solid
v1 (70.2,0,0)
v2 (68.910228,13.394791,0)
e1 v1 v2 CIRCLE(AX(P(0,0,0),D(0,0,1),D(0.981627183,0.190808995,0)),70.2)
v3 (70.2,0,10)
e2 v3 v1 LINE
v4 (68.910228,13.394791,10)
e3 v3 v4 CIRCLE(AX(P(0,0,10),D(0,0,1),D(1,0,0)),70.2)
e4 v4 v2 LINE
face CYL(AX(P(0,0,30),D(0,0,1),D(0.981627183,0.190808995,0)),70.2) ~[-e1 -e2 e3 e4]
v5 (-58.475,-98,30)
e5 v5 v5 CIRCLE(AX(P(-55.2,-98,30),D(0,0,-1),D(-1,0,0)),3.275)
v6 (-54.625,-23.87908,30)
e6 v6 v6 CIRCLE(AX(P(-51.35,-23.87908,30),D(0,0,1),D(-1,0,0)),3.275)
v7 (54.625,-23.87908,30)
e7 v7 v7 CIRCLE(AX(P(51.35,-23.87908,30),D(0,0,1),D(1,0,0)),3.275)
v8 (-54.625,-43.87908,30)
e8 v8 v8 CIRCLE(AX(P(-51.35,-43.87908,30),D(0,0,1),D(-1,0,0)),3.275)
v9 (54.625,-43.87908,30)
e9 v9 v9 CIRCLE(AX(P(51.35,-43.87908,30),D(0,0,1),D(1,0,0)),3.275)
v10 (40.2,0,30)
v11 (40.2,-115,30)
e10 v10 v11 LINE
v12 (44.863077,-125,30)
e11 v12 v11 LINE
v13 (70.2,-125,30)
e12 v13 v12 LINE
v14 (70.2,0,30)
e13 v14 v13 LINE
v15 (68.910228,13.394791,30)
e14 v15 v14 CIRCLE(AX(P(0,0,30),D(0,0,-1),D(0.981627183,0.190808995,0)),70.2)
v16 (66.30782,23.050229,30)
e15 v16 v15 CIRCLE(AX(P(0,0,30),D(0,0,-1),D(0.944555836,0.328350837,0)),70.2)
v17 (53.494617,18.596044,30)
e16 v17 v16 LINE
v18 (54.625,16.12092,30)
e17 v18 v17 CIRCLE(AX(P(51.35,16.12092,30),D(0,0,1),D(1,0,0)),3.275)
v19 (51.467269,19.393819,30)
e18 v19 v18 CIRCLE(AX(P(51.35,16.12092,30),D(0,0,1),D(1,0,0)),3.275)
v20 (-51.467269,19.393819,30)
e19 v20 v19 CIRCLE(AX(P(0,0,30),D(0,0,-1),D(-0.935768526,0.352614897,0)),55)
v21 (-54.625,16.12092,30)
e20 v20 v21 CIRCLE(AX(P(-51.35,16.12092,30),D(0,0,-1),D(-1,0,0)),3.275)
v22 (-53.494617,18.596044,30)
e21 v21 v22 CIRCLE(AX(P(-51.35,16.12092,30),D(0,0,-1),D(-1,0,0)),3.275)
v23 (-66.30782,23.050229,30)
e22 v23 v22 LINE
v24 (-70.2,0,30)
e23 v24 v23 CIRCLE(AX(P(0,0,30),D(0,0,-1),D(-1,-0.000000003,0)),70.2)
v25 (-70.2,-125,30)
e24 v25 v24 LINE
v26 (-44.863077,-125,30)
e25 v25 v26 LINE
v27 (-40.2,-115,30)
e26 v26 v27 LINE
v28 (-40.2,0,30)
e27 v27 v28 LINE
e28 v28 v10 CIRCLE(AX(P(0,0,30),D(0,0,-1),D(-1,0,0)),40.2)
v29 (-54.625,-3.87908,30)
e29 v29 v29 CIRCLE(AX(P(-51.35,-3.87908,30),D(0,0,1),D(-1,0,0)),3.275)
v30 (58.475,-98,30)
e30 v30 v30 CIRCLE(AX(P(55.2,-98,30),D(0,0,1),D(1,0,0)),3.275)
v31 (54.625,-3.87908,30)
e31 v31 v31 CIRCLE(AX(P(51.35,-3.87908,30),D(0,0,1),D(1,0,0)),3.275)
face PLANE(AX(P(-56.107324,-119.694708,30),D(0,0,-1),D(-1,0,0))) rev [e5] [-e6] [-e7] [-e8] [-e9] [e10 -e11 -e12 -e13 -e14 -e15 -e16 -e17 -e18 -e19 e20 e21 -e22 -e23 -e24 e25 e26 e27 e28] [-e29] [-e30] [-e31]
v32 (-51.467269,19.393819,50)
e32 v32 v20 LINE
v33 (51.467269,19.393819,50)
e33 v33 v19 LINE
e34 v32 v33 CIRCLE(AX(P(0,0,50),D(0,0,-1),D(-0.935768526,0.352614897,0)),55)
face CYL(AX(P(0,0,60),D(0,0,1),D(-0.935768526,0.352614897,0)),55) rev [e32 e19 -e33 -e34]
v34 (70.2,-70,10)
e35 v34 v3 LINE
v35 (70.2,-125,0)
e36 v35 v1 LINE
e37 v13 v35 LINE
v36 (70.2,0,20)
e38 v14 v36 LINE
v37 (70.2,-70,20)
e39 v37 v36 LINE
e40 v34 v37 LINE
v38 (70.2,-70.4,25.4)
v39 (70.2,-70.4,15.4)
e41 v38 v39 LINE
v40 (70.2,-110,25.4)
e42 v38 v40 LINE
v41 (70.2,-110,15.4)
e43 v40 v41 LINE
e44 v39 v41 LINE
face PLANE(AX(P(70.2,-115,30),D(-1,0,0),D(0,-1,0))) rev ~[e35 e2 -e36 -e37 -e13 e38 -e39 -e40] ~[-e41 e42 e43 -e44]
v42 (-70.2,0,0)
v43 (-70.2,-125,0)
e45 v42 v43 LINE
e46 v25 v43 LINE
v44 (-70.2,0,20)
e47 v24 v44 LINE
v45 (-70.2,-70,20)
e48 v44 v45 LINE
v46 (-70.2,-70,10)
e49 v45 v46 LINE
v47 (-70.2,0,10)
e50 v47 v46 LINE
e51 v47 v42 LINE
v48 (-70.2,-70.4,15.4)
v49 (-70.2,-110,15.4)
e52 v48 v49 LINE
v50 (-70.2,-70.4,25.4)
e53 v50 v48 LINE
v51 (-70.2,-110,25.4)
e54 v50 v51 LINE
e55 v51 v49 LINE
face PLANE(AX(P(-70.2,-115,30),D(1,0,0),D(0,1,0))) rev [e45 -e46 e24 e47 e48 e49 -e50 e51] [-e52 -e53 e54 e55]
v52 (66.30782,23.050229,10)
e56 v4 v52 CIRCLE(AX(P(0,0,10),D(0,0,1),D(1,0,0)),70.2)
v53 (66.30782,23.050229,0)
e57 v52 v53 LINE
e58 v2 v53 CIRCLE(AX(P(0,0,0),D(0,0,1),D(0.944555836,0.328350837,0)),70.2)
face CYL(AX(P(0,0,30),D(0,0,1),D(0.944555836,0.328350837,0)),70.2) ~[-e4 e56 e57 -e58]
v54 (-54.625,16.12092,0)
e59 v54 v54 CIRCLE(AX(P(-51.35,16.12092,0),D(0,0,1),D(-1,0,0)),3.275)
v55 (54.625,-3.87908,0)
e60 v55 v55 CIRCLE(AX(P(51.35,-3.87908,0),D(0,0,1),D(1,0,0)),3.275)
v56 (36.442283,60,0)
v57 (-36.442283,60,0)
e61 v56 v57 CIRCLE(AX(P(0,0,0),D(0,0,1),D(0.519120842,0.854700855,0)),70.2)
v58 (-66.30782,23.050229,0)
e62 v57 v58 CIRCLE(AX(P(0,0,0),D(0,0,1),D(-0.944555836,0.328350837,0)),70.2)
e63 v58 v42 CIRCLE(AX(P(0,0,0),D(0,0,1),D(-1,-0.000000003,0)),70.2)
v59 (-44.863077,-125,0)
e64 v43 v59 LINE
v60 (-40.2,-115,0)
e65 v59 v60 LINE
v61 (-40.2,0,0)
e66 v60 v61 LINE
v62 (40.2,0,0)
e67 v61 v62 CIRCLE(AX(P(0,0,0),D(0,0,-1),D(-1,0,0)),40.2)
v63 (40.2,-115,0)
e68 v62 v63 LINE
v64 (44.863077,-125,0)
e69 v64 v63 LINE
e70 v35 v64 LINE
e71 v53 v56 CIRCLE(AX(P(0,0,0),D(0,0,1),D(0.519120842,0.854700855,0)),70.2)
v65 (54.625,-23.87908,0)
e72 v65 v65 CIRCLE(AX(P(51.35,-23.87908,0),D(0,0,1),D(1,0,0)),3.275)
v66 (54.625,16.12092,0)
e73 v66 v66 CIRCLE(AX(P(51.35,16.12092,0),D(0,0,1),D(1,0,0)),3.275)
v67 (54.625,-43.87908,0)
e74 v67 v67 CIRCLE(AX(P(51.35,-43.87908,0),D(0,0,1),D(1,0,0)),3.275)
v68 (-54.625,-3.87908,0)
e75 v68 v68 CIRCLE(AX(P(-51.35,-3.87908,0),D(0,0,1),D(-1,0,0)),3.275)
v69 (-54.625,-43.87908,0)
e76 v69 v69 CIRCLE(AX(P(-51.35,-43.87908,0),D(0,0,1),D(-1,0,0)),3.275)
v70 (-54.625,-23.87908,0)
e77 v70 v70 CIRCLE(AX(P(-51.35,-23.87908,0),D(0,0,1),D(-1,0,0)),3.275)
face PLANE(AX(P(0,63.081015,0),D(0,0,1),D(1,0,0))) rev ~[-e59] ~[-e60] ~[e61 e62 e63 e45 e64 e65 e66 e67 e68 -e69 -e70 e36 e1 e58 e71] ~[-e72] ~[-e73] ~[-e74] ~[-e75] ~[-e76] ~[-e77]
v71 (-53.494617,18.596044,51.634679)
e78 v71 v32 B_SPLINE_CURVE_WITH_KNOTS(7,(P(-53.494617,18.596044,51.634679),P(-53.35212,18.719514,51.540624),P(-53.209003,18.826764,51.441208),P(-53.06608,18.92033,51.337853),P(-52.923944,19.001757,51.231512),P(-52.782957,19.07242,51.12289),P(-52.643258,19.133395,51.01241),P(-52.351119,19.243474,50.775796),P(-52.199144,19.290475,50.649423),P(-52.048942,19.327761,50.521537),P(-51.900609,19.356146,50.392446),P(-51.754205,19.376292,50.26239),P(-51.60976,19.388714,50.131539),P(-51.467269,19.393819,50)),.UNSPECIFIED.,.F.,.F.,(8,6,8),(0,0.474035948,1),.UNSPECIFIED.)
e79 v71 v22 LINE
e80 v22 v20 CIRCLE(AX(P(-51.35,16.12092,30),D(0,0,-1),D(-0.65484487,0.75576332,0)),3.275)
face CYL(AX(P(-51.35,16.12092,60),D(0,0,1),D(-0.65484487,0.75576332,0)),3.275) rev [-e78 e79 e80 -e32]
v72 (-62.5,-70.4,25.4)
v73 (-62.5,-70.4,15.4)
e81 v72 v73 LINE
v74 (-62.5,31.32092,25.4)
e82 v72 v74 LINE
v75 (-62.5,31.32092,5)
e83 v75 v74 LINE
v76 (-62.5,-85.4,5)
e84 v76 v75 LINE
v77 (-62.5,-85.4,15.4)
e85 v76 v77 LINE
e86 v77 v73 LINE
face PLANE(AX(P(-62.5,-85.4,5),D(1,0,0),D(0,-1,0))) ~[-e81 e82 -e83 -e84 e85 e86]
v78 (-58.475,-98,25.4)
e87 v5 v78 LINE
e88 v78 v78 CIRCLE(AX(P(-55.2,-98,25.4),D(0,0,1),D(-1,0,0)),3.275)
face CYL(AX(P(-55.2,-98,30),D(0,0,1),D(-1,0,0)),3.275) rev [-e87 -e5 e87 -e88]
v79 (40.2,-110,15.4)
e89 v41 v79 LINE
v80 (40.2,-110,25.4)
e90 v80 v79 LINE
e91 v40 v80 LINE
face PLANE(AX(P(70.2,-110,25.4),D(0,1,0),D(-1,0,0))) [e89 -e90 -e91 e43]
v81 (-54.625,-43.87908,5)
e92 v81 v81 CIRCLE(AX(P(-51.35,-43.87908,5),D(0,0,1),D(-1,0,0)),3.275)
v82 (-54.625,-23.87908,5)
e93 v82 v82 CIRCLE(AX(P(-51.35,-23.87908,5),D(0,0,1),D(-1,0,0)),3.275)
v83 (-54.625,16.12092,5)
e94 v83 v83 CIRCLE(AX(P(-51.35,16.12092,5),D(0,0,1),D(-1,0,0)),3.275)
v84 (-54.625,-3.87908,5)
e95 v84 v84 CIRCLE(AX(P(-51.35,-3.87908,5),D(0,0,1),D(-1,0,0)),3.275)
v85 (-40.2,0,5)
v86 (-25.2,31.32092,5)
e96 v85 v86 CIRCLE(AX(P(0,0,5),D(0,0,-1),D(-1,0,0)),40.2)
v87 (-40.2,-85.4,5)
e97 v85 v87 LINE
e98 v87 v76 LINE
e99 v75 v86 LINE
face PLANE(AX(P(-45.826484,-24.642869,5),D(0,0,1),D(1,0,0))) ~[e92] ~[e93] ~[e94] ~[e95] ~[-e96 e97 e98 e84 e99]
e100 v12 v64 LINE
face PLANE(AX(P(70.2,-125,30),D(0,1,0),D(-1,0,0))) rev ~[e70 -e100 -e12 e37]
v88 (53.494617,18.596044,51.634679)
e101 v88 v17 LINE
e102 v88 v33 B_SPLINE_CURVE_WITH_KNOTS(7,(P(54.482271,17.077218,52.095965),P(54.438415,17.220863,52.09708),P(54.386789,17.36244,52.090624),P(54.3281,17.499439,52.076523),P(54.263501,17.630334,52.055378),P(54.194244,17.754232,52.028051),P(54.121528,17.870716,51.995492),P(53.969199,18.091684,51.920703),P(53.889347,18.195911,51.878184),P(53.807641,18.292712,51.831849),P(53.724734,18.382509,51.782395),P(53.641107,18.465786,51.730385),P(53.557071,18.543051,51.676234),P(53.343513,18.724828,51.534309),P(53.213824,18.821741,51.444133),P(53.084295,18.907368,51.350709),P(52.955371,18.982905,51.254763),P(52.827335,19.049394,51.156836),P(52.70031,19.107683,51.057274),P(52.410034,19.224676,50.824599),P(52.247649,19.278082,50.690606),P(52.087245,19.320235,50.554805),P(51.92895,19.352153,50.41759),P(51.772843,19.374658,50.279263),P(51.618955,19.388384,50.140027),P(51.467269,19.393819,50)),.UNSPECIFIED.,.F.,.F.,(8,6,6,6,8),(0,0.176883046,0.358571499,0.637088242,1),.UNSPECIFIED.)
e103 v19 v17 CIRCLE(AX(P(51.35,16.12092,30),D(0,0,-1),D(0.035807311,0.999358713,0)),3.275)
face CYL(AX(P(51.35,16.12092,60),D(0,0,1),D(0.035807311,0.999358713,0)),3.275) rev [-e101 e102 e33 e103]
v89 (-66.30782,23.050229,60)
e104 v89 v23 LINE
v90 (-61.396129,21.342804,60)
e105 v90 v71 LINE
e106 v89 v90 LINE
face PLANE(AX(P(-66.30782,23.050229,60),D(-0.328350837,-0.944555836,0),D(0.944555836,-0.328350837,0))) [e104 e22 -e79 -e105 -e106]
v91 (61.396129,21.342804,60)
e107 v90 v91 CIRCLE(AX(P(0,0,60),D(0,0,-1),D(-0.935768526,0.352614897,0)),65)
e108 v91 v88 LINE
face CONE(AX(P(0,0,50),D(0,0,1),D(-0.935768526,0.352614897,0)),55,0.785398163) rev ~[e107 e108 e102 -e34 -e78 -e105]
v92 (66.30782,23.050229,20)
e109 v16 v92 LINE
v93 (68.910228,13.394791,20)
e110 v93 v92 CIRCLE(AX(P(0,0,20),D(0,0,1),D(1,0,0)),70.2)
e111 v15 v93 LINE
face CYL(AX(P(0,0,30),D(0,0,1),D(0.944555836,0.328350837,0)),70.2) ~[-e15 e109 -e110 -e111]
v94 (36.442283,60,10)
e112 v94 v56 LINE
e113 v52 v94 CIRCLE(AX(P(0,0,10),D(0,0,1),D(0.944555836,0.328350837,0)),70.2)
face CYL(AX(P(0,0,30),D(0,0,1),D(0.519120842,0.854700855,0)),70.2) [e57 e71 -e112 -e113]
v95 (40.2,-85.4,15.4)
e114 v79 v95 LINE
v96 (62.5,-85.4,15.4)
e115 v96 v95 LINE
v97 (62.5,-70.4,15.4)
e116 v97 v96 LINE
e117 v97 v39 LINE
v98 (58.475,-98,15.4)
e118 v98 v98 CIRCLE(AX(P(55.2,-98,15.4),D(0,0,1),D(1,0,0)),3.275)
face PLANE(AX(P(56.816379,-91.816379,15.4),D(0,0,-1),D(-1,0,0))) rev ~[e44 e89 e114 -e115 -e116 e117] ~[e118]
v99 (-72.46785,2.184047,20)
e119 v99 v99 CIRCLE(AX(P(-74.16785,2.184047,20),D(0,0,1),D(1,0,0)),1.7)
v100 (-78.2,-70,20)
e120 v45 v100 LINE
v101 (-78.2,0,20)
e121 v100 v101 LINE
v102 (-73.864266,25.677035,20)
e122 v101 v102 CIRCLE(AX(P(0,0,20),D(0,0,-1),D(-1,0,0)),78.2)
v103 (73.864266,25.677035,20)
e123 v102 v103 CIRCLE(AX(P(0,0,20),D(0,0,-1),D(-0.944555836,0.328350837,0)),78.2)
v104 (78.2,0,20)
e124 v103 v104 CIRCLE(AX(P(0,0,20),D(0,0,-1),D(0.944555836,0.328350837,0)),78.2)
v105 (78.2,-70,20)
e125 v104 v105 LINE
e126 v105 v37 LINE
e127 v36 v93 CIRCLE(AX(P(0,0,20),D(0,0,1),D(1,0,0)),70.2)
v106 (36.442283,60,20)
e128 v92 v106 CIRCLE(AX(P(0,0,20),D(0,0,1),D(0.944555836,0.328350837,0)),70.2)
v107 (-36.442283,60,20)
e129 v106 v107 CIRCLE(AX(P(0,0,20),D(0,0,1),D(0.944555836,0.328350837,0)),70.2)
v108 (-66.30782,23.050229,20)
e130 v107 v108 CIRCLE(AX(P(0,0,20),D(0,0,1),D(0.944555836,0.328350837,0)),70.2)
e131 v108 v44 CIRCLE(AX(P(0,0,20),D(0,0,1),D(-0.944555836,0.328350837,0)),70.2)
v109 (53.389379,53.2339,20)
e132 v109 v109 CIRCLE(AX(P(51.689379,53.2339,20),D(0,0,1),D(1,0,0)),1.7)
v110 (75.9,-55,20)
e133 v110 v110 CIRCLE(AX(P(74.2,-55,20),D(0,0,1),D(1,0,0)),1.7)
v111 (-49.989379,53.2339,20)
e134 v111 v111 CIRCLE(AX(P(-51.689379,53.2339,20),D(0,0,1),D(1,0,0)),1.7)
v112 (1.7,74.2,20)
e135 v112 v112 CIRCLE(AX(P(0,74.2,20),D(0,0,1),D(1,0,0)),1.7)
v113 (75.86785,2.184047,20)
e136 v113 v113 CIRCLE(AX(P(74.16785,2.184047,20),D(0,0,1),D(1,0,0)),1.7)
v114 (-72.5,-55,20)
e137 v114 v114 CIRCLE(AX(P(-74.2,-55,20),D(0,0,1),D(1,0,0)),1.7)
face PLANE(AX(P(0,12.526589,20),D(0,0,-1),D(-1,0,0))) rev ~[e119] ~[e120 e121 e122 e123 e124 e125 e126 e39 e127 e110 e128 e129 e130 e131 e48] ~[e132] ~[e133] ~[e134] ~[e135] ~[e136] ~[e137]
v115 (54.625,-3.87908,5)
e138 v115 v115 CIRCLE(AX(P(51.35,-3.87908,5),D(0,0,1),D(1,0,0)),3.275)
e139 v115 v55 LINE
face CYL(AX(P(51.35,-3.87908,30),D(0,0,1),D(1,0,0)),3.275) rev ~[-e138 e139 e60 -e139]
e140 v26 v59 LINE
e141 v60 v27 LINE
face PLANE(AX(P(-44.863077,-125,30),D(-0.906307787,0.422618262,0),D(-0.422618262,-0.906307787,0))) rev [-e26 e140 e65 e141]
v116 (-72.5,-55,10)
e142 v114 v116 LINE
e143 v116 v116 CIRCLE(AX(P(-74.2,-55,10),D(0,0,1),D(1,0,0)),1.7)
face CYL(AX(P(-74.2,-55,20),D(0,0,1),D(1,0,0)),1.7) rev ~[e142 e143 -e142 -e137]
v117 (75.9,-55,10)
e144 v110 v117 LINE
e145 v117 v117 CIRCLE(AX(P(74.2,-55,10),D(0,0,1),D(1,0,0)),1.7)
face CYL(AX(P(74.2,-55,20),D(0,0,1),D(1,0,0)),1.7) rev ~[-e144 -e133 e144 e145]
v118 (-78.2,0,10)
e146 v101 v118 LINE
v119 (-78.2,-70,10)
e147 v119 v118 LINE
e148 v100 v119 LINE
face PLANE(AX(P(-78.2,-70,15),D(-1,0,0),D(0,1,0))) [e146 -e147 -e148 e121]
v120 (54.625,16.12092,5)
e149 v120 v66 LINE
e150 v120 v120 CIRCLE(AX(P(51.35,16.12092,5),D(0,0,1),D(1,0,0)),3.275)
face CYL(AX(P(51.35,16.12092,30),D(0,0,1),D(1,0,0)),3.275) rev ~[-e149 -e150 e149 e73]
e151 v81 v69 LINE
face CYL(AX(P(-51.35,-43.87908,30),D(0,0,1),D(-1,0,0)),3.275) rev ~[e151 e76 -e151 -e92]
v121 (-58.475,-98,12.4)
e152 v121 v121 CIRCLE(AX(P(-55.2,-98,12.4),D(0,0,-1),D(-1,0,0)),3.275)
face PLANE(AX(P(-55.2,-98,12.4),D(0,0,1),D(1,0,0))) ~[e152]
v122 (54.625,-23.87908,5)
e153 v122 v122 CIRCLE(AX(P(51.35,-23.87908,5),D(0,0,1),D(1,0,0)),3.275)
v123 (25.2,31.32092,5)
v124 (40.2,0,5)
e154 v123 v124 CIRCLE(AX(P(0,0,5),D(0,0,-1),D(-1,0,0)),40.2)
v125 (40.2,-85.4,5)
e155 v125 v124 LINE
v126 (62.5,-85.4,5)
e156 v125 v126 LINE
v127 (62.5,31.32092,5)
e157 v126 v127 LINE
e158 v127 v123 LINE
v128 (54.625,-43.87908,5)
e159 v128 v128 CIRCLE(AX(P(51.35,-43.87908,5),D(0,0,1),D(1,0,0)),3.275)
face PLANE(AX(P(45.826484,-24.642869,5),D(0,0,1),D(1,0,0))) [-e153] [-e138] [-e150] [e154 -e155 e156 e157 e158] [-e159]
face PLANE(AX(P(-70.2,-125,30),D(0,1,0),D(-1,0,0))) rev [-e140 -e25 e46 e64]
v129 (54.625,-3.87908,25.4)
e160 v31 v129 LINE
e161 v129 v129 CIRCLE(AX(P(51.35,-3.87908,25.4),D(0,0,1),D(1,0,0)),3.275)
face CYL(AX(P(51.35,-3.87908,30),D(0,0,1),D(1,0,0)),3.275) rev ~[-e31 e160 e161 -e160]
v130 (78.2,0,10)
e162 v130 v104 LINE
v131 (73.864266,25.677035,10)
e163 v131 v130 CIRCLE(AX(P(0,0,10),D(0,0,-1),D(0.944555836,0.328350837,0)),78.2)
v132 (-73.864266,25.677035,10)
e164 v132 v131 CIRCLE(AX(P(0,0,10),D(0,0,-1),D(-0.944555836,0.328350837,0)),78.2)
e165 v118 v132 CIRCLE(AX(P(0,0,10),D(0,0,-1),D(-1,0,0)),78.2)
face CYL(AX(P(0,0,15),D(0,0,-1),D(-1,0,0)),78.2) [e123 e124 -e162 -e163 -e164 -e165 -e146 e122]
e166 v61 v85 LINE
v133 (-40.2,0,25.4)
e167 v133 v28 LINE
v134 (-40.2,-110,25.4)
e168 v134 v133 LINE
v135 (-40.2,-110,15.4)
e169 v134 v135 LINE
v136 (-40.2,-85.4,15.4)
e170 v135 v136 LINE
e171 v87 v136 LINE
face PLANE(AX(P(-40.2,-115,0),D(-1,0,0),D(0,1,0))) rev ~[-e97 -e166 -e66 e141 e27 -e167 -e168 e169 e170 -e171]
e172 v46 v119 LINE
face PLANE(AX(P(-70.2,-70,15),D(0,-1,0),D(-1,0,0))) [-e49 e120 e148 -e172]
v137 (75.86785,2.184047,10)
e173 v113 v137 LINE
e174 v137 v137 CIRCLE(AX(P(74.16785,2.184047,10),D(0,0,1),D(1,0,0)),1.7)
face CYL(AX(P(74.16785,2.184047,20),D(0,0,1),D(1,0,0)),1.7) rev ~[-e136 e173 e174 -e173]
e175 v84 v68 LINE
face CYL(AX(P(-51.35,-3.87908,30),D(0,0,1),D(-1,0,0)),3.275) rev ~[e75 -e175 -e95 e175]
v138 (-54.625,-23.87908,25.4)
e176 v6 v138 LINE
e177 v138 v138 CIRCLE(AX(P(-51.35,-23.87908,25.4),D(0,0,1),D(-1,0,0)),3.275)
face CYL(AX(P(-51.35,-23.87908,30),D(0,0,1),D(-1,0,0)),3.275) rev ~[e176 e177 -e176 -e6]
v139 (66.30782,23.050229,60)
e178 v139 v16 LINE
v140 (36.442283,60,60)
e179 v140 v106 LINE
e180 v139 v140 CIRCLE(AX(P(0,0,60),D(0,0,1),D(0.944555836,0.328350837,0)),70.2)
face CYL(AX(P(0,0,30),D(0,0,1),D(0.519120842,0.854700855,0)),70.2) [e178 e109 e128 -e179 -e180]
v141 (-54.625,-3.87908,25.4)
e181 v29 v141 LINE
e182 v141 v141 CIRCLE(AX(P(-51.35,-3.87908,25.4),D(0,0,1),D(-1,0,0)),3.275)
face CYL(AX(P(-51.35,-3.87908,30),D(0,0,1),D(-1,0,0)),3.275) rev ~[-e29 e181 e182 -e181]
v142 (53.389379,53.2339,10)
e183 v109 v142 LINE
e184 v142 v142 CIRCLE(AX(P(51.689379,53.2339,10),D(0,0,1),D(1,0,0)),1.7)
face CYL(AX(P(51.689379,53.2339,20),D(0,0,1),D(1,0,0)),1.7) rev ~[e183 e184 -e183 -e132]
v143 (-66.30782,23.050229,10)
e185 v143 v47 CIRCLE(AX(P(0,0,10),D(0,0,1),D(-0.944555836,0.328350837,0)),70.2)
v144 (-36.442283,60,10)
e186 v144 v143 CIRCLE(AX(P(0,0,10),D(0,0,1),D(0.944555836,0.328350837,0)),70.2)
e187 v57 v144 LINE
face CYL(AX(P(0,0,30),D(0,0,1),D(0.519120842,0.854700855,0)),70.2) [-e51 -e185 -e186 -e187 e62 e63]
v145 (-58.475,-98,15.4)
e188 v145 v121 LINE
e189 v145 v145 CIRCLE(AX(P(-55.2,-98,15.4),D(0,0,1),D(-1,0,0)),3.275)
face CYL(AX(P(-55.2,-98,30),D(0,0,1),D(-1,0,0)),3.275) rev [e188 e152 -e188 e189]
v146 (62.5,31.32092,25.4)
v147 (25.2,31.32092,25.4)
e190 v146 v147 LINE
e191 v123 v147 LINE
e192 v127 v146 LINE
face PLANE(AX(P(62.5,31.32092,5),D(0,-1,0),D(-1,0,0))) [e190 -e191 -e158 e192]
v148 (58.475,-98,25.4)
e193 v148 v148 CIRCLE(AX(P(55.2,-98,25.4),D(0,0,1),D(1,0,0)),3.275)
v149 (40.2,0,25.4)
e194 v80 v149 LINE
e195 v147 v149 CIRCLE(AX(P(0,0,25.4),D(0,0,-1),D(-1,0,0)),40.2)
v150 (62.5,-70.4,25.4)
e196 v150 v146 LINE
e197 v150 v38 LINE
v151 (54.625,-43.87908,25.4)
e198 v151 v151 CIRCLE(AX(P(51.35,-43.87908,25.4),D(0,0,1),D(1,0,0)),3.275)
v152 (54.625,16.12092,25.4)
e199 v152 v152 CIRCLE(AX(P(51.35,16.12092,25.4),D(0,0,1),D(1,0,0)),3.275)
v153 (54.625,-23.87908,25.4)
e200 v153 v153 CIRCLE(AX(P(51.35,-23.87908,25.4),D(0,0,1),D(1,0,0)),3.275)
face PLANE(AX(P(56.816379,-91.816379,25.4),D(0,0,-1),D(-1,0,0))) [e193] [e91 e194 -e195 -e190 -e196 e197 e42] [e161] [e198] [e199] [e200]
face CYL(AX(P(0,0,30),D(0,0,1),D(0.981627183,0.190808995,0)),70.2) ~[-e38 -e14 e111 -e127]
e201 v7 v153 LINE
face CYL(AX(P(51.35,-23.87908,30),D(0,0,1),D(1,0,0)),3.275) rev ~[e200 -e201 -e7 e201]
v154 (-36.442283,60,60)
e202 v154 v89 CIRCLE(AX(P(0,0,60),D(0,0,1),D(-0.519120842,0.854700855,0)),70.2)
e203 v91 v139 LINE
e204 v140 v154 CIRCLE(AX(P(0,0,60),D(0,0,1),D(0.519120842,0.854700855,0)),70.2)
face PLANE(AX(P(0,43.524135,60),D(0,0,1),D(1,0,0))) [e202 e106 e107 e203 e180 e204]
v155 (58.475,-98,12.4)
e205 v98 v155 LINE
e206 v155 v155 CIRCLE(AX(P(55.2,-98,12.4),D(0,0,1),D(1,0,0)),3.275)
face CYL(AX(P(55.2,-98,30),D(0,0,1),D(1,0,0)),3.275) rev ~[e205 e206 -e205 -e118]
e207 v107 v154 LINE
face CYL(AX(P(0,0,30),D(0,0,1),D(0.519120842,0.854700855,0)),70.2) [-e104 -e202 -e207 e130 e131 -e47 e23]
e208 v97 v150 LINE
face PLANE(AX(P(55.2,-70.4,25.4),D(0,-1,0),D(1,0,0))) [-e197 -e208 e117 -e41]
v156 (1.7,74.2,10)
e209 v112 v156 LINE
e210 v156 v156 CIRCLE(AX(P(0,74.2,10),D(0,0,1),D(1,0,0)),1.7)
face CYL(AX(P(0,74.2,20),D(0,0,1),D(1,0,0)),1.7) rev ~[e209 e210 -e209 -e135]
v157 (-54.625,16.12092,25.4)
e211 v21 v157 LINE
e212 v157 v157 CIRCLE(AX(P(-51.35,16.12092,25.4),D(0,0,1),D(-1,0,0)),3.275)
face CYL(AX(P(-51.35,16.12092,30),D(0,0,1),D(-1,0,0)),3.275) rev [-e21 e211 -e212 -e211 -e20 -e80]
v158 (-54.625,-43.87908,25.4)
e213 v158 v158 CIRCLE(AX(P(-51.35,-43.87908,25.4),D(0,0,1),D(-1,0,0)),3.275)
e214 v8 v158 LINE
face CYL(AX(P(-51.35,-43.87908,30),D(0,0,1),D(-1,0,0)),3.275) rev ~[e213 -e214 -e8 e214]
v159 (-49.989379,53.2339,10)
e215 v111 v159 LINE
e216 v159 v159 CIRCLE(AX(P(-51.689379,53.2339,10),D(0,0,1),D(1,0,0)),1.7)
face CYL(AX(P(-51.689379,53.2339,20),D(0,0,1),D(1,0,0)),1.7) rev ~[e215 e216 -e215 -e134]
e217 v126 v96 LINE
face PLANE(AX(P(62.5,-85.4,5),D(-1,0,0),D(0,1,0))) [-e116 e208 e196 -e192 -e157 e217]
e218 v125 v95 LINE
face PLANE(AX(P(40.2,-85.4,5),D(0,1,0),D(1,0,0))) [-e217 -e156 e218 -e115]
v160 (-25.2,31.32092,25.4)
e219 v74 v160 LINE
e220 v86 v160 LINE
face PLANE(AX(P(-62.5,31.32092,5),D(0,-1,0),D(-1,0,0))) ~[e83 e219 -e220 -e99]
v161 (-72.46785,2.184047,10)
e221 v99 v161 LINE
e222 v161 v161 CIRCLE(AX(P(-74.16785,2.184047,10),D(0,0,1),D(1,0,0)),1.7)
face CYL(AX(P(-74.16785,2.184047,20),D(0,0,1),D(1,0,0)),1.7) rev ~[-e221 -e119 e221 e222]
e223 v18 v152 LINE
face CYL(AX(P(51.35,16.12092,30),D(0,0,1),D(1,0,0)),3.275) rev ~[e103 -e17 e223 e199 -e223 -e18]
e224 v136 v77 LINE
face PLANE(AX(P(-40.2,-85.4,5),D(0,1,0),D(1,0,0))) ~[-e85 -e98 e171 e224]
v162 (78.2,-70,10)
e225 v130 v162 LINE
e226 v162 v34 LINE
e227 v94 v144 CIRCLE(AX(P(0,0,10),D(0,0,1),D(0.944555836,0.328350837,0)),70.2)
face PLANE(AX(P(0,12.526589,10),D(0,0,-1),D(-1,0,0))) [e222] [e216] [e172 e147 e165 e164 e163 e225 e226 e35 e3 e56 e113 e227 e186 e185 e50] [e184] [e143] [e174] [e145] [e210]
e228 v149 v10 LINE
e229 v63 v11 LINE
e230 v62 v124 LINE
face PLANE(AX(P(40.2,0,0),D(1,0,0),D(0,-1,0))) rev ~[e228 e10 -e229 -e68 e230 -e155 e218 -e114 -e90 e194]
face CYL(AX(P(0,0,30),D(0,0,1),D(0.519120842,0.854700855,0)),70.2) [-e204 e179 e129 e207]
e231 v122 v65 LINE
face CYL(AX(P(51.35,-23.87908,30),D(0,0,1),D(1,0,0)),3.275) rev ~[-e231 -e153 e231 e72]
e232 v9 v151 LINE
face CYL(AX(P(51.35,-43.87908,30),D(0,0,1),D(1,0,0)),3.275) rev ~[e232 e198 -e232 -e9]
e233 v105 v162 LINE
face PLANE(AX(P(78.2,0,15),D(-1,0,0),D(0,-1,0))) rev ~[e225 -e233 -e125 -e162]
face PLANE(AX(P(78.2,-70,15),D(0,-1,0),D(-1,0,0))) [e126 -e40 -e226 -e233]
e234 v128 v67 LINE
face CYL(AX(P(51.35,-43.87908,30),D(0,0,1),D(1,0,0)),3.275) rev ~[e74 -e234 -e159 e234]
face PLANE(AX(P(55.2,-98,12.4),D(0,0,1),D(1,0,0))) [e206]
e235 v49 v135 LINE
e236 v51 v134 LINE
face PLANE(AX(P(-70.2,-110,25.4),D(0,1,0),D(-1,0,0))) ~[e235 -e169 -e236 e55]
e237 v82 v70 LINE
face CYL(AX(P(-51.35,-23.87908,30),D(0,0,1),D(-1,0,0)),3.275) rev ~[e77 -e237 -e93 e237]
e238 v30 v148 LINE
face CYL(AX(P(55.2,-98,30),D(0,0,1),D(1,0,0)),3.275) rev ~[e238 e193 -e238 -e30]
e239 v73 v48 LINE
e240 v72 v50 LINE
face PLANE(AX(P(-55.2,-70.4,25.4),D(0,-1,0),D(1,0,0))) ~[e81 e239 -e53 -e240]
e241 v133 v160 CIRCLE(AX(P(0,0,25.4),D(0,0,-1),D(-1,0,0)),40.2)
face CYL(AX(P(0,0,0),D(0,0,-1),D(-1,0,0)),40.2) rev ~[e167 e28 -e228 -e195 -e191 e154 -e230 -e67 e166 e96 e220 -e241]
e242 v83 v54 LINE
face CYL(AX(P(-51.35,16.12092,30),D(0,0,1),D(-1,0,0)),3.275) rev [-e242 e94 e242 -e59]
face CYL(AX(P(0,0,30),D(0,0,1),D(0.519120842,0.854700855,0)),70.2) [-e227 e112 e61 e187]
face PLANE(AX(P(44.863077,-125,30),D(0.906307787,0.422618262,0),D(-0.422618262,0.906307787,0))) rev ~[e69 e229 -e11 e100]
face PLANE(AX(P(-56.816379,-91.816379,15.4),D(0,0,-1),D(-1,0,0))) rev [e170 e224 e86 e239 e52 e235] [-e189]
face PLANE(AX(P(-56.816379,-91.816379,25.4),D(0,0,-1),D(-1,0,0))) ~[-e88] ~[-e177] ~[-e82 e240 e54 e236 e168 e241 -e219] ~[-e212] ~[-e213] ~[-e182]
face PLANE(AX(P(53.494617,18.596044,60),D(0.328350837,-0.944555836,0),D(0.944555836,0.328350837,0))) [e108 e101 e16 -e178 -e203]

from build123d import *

# Parameters (mm, degrees)
BOSS_EXTRUDE1_DEPTH     = 30
CUT_EXTRUDE1_START      = 5
CUT_EXTRUDE1_DEPTH      = 20.4
SKETCH3_R               = 3.275
CUT_EXTRUDE2_DEPTH      = 139.032749737
LPATTERN1_COUNT         = 4
LPATTERN1_PITCH         = 20
CUT_EXTRUDE3_START      = -4.6
CUT_EXTRUDE3_DEPTH      = 10
SKETCH5_R               = 3.275
CUT_EXTRUDE4_DEPTH      = 17.6
BOSS_EXTRUDE2_DEPTH     = 30
MIRROR1_COPY_1_SKETCH_R = 3.275
MIRROR1_COPY_1_DEPTH    = 139.032749737
MIRROR1_COPY_2_SKETCH_R = 3.275
MIRROR1_COPY_2_DEPTH    = 139.032749737
MIRROR1_COPY_3_SKETCH_R = 3.275
MIRROR1_COPY_3_DEPTH    = 139.032749737
BOSS_EXTRUDE3_START     = 30
BOSS_EXTRUDE3_DEPTH     = 30
CUT_EXTRUDE5_REACH      = 148.469
BOSS_EXTRUDE4_DEPTH     = 30
BOSS_EXTRUDE5_DEPTH     = 5
CHAMFER1_SIZE           = 10
SKETCH11_R              = 1.7
CUT_EXTRUDE6_DEPTH      = 10


with BuildPart() as part:
    # Sketch1 → Boss-Extrude1 (new body)
    with BuildSketch(Plane.XY):
        with BuildLine():
            Line((70.2, 60), (-70.2, 60))
            Line((-70.2, 60), (-70.2, -115))
            Line((-70.2, -115), (-40.2, -115))
            Line((-40.2, -115), (-40.2, 0))
            ThreePointArc((-40.2, 0), (0, 40.2), (40.2, 0))
            Line((40.2, 0), (40.2, -115))
            Line((40.2, -115), (70.2, -115))
            Line((70.2, -115), (70.2, 60))
        make_face()
    extrude(amount=BOSS_EXTRUDE1_DEPTH)

    # Sketch2 → Cut-Extrude1 (cut)
    with BuildSketch(Plane.XY.offset(CUT_EXTRUDE1_START)):
        Polygon((25.2, 31.320919527), (25.2, -45), (40.2, -60), (40.2, -85.4), (62.5, -85.4), (62.5, 31.320919527), align=None)
    cut_extrude1 = extrude(amount=CUT_EXTRUDE1_DEPTH, mode=Mode.SUBTRACT)

    # Sketch3 → Cut-Extrude2 (cut, through all)
    with BuildSketch(Plane.XY.offset(30)):
        with Locations((51.35, 16.120919527)):
            Circle(SKETCH3_R)
    cut_extrude2 = extrude(amount=-CUT_EXTRUDE2_DEPTH, mode=Mode.SUBTRACT)

    # LPattern1: Cut-Extrude2 ×4
    with Locations(*[(0, -i * LPATTERN1_PITCH, 0) for i in range(1, LPATTERN1_COUNT)]):
        add(cut_extrude2, mode=Mode.SUBTRACT)

    # Sketch6 → Cut-Extrude3 (cut)
    with BuildSketch(Plane.XY.offset(30).offset(CUT_EXTRUDE3_START)):
        Polygon((40.2, -85.4), (55.2, -85.4), (55.2, -70.4), (70.2, -70.4), (70.2, -110), (40.2, -110), align=None)
    cut_extrude3 = extrude(amount=-CUT_EXTRUDE3_DEPTH, mode=Mode.SUBTRACT)

    # Sketch5 → Cut-Extrude4 (cut)
    with BuildSketch(Plane.XY.offset(30)):
        with Locations((55.2, -98)):
            Circle(SKETCH5_R)
    cut_extrude4 = extrude(amount=-CUT_EXTRUDE4_DEPTH, mode=Mode.SUBTRACT)

    # Sketch7 → Boss-Extrude2 (add)
    with BuildSketch(Plane.XY.offset(30)):
        Polygon((40.2, -115), (70.2, -115), (70.2, -125), (44.863076582, -125), align=None)
    boss_extrude2 = extrude(amount=-BOSS_EXTRUDE2_DEPTH)

    # Mirror1: Cut-Extrude1, Cut-Extrude2, Cut-Extrude3, Cut-Extrude4, Boss-Extrude2 across plane
    add(cut_extrude1.mirror(Plane(origin=(0, 0, 0), x_dir=(0, 0, 1), z_dir=(1, 0, 0))), mode=Mode.SUBTRACT)
    add(cut_extrude2.mirror(Plane(origin=(0, 0, 0), x_dir=(0, 0, 1), z_dir=(1, 0, 0))), mode=Mode.SUBTRACT)
    add(cut_extrude3.mirror(Plane(origin=(0, 0, 0), x_dir=(0, 0, 1), z_dir=(1, 0, 0))), mode=Mode.SUBTRACT)
    add(cut_extrude4.mirror(Plane(origin=(0, 0, 0), x_dir=(0, 0, 1), z_dir=(1, 0, 0))), mode=Mode.SUBTRACT)
    add(boss_extrude2.mirror(Plane(origin=(0, 0, 0), x_dir=(0, 0, 1), z_dir=(1, 0, 0))))

    # Mirror1 copy 1 sketch → Mirror1 copy 1 (cut, through all)
    with BuildSketch(Plane(origin=(0, -20, 30), x_dir=(-1, 0, 0), z_dir=(0, 0, 1))):
        with Locations((51.35, -16.120919527)):
            Circle(MIRROR1_COPY_1_SKETCH_R)
    extrude(amount=-MIRROR1_COPY_1_DEPTH, mode=Mode.SUBTRACT)

    # Mirror1 copy 2 sketch → Mirror1 copy 2 (cut, through all)
    with BuildSketch(Plane(origin=(0, -40, 30), x_dir=(-1, 0, 0), z_dir=(0, 0, 1))):
        with Locations((51.35, -16.120919527)):
            Circle(MIRROR1_COPY_2_SKETCH_R)
    extrude(amount=-MIRROR1_COPY_2_DEPTH, mode=Mode.SUBTRACT)

    # Mirror1 copy 3 sketch → Mirror1 copy 3 (cut, through all)
    with BuildSketch(Plane(origin=(0, -60, 30), x_dir=(-1, 0, 0), z_dir=(0, 0, 1))):
        with Locations((51.35, -16.120919527)):
            Circle(MIRROR1_COPY_3_SKETCH_R)
    extrude(amount=-MIRROR1_COPY_3_DEPTH, mode=Mode.SUBTRACT)

    # Sketch8 → Boss-Extrude3 (add)
    with BuildSketch(Plane.XY.offset(30).offset(BOSS_EXTRUDE3_START)):
        with BuildLine():
            ThreePointArc((51.467268944, 19.393819311), (52.549226062, 19.168456541), (53.494616948, 18.596044401))
            Line((53.494616948, 18.596044401), (66.307819698, 23.050228782))
            ThreePointArc((66.307819698, 23.050228782), (54.595945877, 44.128479395), (36.442283134, 60))
            Line((36.442283134, 60), (-36.442283134, 60))
            ThreePointArc((-36.442283134, 60), (-54.595945877, 44.128479395), (-66.307819698, 23.050228782))
            Line((-66.307819698, 23.050228782), (-53.494616948, 18.596044401))
            ThreePointArc((-53.494616948, 18.596044401), (-52.549226062, 19.168456541), (-51.467268944, 19.393819311))
            ThreePointArc((-51.467268944, 19.393819311), (0, 55), (51.467268944, 19.393819311))
        make_face()
        with BuildLine():
            Line((-36.442283134, 60), (36.442283134, 60))
            ThreePointArc((36.442283134, 60), (0, 70.2), (-36.442283134, 60))
        make_face()
    extrude(amount=-BOSS_EXTRUDE3_DEPTH)

    # Sketch8<3> → Cut-Extrude5 (cut, up to next)
    with BuildSketch(Plane.XY.offset(30), mode=Mode.PRIVATE) as cut_extrude5_sk1:
        with BuildLine():
            Line((-70.2, 24.403246372), (-66.307819698, 23.050228782))
            ThreePointArc((-66.307819698, 23.050228782), (-54.595945877, 44.128479395), (-36.442283134, 60))
            Line((-36.442283134, 60), (-70.2, 60))
            Line((-70.2, 60), (-70.2, 24.403246372))
        make_face()
    cut_extrude5_tool1 = extrude(cut_extrude5_sk1.sketch, amount=-CUT_EXTRUDE5_REACH, mode=Mode.PRIVATE) & part.part
    # Sketch8<3> → Cut-Extrude5 (cut, up to next)
    with BuildSketch(Plane.XY.offset(30), mode=Mode.PRIVATE) as cut_extrude5_sk2:
        with BuildLine():
            ThreePointArc((36.442283134, 60), (54.595945877, 44.128479395), (66.307819698, 23.050228782))
            Line((66.307819698, 23.050228782), (70.2, 24.403246372))
            Line((70.2, 24.403246372), (70.2, 60))
            Line((70.2, 60), (36.442283134, 60))
        make_face()
    cut_extrude5_tool2 = extrude(cut_extrude5_sk2.sketch, amount=-CUT_EXTRUDE5_REACH, mode=Mode.PRIVATE) & part.part
    # Sketch8<3> → Cut-Extrude5 (cut, up to next)
    with BuildSketch(Plane.XY.offset(30), mode=Mode.PRIVATE) as cut_extrude5_sk3:
        with BuildLine():
            ThreePointArc((-70.2, -2.11e-07), (-69.220116107, 11.688264463), (-66.307819698, 23.050228782))
            Line((-66.307819698, 23.050228782), (-70.2, 24.403246372))
            Line((-70.2, 24.403246372), (-70.2, -2.11e-07))
        make_face()
    cut_extrude5_tool3 = extrude(cut_extrude5_sk3.sketch, amount=-CUT_EXTRUDE5_REACH, mode=Mode.PRIVATE) & part.part
    # Sketch8<3> → Cut-Extrude5 (cut, up to next)
    with BuildSketch(Plane.XY.offset(30), mode=Mode.PRIVATE) as cut_extrude5_sk4:
        with BuildLine():
            Line((70.2, 24.403246372), (66.307819698, 23.050228782))
            ThreePointArc((66.307819698, 23.050228782), (67.781169893, 18.268908232), (68.910228278, 13.394791475))
            ThreePointArc((68.910228278, 13.394791475), (69.876813125, 6.728371827), (70.2, 0))
            Line((70.2, 0), (70.2, 24.403246372))
        make_face()
    cut_extrude5_tool4 = extrude(cut_extrude5_sk4.sketch, amount=-CUT_EXTRUDE5_REACH, mode=Mode.PRIVATE) & part.part
    add(cut_extrude5_tool1.solids().sort_by_distance((-60.211924, 47.421262, 30))[0], mode=Mode.SUBTRACT)
    add(cut_extrude5_tool2.solids().sort_by_distance((60.211924, 47.421262, 30))[0], mode=Mode.SUBTRACT)
    add(cut_extrude5_tool3.solids().sort_by_distance((-69.027031, 17.825577, 30))[0], mode=Mode.SUBTRACT)
    add(cut_extrude5_tool4.solids().sort_by_distance((69.027031, 17.825577, 30))[0], mode=Mode.SUBTRACT)

    # Sketch8<4> → Boss-Extrude4 (add)
    with BuildSketch(Plane.XY.offset(30)):
        with BuildLine():
            Line((-36.442283134, 60), (36.442283134, 60))
            ThreePointArc((36.442283134, 60), (0, 70.2), (-36.442283134, 60))
        make_face()
    extrude(amount=-BOSS_EXTRUDE4_DEPTH)

    # Sketch10 → Boss-Extrude5 (add, symmetric)
    with BuildSketch(Plane.XY.offset(15)):
        with BuildLine():
            Line((78.2, 0), (78.2, -70))
            Line((78.2, -70), (70.2, -70))
            Line((70.2, -70), (70.2, 0))
            ThreePointArc((70.2, 0), (69.220116089, 11.688264568), (66.307819698, 23.050228782))
            ThreePointArc((66.307819698, 23.050228782), (0, 70.2), (-66.307819698, 23.050228782))
            ThreePointArc((-66.307819698, 23.050228782), (-69.220116089, 11.688264568), (-70.2, 0))
            Line((-70.2, 0), (-70.2, -70))
            Line((-70.2, -70), (-78.2, -70))
            Line((-78.2, -70), (-78.2, 0))
            ThreePointArc((-78.2, 0), (-77.108448407, 13.02026053), (-73.864266387, 25.677035481))
            ThreePointArc((-73.864266387, 25.677035481), (0, 78.2), (73.864266387, 25.677035481))
            ThreePointArc((73.864266387, 25.677035481), (77.108448407, 13.02026053), (78.2, 0))
        make_face()
    extrude(amount=BOSS_EXTRUDE5_DEPTH, both=True)

    # Chamfer1
    chamfer1_edges = [part.edges().sort_by_distance(p)[0] for p in [
        (0, 55, 60),
    ]]
    chamfer(chamfer1_edges, length=CHAMFER1_SIZE)

    # Sketch11 → Cut-Extrude6 (cut)
    with BuildSketch(Plane.XY.offset(20)):
        with Locations((-74.2, -55)):
            Circle(SKETCH11_R)
        with Locations((-74.167849765, 2.184046985)):
            Circle(SKETCH11_R)
        with Locations((-51.689378569, 53.233900319)):
            Circle(SKETCH11_R)
        with Locations((0, 74.2)):
            Circle(SKETCH11_R)
        with Locations((51.689378569, 53.233900319)):
            Circle(SKETCH11_R)
        with Locations((74.167849765, 2.184046985)):
            Circle(SKETCH11_R)
        with Locations((74.2, -55)):
            Circle(SKETCH11_R)
    extrude(amount=-CUT_EXTRUDE6_DEPTH, mode=Mode.SUBTRACT)


solid = part.part
